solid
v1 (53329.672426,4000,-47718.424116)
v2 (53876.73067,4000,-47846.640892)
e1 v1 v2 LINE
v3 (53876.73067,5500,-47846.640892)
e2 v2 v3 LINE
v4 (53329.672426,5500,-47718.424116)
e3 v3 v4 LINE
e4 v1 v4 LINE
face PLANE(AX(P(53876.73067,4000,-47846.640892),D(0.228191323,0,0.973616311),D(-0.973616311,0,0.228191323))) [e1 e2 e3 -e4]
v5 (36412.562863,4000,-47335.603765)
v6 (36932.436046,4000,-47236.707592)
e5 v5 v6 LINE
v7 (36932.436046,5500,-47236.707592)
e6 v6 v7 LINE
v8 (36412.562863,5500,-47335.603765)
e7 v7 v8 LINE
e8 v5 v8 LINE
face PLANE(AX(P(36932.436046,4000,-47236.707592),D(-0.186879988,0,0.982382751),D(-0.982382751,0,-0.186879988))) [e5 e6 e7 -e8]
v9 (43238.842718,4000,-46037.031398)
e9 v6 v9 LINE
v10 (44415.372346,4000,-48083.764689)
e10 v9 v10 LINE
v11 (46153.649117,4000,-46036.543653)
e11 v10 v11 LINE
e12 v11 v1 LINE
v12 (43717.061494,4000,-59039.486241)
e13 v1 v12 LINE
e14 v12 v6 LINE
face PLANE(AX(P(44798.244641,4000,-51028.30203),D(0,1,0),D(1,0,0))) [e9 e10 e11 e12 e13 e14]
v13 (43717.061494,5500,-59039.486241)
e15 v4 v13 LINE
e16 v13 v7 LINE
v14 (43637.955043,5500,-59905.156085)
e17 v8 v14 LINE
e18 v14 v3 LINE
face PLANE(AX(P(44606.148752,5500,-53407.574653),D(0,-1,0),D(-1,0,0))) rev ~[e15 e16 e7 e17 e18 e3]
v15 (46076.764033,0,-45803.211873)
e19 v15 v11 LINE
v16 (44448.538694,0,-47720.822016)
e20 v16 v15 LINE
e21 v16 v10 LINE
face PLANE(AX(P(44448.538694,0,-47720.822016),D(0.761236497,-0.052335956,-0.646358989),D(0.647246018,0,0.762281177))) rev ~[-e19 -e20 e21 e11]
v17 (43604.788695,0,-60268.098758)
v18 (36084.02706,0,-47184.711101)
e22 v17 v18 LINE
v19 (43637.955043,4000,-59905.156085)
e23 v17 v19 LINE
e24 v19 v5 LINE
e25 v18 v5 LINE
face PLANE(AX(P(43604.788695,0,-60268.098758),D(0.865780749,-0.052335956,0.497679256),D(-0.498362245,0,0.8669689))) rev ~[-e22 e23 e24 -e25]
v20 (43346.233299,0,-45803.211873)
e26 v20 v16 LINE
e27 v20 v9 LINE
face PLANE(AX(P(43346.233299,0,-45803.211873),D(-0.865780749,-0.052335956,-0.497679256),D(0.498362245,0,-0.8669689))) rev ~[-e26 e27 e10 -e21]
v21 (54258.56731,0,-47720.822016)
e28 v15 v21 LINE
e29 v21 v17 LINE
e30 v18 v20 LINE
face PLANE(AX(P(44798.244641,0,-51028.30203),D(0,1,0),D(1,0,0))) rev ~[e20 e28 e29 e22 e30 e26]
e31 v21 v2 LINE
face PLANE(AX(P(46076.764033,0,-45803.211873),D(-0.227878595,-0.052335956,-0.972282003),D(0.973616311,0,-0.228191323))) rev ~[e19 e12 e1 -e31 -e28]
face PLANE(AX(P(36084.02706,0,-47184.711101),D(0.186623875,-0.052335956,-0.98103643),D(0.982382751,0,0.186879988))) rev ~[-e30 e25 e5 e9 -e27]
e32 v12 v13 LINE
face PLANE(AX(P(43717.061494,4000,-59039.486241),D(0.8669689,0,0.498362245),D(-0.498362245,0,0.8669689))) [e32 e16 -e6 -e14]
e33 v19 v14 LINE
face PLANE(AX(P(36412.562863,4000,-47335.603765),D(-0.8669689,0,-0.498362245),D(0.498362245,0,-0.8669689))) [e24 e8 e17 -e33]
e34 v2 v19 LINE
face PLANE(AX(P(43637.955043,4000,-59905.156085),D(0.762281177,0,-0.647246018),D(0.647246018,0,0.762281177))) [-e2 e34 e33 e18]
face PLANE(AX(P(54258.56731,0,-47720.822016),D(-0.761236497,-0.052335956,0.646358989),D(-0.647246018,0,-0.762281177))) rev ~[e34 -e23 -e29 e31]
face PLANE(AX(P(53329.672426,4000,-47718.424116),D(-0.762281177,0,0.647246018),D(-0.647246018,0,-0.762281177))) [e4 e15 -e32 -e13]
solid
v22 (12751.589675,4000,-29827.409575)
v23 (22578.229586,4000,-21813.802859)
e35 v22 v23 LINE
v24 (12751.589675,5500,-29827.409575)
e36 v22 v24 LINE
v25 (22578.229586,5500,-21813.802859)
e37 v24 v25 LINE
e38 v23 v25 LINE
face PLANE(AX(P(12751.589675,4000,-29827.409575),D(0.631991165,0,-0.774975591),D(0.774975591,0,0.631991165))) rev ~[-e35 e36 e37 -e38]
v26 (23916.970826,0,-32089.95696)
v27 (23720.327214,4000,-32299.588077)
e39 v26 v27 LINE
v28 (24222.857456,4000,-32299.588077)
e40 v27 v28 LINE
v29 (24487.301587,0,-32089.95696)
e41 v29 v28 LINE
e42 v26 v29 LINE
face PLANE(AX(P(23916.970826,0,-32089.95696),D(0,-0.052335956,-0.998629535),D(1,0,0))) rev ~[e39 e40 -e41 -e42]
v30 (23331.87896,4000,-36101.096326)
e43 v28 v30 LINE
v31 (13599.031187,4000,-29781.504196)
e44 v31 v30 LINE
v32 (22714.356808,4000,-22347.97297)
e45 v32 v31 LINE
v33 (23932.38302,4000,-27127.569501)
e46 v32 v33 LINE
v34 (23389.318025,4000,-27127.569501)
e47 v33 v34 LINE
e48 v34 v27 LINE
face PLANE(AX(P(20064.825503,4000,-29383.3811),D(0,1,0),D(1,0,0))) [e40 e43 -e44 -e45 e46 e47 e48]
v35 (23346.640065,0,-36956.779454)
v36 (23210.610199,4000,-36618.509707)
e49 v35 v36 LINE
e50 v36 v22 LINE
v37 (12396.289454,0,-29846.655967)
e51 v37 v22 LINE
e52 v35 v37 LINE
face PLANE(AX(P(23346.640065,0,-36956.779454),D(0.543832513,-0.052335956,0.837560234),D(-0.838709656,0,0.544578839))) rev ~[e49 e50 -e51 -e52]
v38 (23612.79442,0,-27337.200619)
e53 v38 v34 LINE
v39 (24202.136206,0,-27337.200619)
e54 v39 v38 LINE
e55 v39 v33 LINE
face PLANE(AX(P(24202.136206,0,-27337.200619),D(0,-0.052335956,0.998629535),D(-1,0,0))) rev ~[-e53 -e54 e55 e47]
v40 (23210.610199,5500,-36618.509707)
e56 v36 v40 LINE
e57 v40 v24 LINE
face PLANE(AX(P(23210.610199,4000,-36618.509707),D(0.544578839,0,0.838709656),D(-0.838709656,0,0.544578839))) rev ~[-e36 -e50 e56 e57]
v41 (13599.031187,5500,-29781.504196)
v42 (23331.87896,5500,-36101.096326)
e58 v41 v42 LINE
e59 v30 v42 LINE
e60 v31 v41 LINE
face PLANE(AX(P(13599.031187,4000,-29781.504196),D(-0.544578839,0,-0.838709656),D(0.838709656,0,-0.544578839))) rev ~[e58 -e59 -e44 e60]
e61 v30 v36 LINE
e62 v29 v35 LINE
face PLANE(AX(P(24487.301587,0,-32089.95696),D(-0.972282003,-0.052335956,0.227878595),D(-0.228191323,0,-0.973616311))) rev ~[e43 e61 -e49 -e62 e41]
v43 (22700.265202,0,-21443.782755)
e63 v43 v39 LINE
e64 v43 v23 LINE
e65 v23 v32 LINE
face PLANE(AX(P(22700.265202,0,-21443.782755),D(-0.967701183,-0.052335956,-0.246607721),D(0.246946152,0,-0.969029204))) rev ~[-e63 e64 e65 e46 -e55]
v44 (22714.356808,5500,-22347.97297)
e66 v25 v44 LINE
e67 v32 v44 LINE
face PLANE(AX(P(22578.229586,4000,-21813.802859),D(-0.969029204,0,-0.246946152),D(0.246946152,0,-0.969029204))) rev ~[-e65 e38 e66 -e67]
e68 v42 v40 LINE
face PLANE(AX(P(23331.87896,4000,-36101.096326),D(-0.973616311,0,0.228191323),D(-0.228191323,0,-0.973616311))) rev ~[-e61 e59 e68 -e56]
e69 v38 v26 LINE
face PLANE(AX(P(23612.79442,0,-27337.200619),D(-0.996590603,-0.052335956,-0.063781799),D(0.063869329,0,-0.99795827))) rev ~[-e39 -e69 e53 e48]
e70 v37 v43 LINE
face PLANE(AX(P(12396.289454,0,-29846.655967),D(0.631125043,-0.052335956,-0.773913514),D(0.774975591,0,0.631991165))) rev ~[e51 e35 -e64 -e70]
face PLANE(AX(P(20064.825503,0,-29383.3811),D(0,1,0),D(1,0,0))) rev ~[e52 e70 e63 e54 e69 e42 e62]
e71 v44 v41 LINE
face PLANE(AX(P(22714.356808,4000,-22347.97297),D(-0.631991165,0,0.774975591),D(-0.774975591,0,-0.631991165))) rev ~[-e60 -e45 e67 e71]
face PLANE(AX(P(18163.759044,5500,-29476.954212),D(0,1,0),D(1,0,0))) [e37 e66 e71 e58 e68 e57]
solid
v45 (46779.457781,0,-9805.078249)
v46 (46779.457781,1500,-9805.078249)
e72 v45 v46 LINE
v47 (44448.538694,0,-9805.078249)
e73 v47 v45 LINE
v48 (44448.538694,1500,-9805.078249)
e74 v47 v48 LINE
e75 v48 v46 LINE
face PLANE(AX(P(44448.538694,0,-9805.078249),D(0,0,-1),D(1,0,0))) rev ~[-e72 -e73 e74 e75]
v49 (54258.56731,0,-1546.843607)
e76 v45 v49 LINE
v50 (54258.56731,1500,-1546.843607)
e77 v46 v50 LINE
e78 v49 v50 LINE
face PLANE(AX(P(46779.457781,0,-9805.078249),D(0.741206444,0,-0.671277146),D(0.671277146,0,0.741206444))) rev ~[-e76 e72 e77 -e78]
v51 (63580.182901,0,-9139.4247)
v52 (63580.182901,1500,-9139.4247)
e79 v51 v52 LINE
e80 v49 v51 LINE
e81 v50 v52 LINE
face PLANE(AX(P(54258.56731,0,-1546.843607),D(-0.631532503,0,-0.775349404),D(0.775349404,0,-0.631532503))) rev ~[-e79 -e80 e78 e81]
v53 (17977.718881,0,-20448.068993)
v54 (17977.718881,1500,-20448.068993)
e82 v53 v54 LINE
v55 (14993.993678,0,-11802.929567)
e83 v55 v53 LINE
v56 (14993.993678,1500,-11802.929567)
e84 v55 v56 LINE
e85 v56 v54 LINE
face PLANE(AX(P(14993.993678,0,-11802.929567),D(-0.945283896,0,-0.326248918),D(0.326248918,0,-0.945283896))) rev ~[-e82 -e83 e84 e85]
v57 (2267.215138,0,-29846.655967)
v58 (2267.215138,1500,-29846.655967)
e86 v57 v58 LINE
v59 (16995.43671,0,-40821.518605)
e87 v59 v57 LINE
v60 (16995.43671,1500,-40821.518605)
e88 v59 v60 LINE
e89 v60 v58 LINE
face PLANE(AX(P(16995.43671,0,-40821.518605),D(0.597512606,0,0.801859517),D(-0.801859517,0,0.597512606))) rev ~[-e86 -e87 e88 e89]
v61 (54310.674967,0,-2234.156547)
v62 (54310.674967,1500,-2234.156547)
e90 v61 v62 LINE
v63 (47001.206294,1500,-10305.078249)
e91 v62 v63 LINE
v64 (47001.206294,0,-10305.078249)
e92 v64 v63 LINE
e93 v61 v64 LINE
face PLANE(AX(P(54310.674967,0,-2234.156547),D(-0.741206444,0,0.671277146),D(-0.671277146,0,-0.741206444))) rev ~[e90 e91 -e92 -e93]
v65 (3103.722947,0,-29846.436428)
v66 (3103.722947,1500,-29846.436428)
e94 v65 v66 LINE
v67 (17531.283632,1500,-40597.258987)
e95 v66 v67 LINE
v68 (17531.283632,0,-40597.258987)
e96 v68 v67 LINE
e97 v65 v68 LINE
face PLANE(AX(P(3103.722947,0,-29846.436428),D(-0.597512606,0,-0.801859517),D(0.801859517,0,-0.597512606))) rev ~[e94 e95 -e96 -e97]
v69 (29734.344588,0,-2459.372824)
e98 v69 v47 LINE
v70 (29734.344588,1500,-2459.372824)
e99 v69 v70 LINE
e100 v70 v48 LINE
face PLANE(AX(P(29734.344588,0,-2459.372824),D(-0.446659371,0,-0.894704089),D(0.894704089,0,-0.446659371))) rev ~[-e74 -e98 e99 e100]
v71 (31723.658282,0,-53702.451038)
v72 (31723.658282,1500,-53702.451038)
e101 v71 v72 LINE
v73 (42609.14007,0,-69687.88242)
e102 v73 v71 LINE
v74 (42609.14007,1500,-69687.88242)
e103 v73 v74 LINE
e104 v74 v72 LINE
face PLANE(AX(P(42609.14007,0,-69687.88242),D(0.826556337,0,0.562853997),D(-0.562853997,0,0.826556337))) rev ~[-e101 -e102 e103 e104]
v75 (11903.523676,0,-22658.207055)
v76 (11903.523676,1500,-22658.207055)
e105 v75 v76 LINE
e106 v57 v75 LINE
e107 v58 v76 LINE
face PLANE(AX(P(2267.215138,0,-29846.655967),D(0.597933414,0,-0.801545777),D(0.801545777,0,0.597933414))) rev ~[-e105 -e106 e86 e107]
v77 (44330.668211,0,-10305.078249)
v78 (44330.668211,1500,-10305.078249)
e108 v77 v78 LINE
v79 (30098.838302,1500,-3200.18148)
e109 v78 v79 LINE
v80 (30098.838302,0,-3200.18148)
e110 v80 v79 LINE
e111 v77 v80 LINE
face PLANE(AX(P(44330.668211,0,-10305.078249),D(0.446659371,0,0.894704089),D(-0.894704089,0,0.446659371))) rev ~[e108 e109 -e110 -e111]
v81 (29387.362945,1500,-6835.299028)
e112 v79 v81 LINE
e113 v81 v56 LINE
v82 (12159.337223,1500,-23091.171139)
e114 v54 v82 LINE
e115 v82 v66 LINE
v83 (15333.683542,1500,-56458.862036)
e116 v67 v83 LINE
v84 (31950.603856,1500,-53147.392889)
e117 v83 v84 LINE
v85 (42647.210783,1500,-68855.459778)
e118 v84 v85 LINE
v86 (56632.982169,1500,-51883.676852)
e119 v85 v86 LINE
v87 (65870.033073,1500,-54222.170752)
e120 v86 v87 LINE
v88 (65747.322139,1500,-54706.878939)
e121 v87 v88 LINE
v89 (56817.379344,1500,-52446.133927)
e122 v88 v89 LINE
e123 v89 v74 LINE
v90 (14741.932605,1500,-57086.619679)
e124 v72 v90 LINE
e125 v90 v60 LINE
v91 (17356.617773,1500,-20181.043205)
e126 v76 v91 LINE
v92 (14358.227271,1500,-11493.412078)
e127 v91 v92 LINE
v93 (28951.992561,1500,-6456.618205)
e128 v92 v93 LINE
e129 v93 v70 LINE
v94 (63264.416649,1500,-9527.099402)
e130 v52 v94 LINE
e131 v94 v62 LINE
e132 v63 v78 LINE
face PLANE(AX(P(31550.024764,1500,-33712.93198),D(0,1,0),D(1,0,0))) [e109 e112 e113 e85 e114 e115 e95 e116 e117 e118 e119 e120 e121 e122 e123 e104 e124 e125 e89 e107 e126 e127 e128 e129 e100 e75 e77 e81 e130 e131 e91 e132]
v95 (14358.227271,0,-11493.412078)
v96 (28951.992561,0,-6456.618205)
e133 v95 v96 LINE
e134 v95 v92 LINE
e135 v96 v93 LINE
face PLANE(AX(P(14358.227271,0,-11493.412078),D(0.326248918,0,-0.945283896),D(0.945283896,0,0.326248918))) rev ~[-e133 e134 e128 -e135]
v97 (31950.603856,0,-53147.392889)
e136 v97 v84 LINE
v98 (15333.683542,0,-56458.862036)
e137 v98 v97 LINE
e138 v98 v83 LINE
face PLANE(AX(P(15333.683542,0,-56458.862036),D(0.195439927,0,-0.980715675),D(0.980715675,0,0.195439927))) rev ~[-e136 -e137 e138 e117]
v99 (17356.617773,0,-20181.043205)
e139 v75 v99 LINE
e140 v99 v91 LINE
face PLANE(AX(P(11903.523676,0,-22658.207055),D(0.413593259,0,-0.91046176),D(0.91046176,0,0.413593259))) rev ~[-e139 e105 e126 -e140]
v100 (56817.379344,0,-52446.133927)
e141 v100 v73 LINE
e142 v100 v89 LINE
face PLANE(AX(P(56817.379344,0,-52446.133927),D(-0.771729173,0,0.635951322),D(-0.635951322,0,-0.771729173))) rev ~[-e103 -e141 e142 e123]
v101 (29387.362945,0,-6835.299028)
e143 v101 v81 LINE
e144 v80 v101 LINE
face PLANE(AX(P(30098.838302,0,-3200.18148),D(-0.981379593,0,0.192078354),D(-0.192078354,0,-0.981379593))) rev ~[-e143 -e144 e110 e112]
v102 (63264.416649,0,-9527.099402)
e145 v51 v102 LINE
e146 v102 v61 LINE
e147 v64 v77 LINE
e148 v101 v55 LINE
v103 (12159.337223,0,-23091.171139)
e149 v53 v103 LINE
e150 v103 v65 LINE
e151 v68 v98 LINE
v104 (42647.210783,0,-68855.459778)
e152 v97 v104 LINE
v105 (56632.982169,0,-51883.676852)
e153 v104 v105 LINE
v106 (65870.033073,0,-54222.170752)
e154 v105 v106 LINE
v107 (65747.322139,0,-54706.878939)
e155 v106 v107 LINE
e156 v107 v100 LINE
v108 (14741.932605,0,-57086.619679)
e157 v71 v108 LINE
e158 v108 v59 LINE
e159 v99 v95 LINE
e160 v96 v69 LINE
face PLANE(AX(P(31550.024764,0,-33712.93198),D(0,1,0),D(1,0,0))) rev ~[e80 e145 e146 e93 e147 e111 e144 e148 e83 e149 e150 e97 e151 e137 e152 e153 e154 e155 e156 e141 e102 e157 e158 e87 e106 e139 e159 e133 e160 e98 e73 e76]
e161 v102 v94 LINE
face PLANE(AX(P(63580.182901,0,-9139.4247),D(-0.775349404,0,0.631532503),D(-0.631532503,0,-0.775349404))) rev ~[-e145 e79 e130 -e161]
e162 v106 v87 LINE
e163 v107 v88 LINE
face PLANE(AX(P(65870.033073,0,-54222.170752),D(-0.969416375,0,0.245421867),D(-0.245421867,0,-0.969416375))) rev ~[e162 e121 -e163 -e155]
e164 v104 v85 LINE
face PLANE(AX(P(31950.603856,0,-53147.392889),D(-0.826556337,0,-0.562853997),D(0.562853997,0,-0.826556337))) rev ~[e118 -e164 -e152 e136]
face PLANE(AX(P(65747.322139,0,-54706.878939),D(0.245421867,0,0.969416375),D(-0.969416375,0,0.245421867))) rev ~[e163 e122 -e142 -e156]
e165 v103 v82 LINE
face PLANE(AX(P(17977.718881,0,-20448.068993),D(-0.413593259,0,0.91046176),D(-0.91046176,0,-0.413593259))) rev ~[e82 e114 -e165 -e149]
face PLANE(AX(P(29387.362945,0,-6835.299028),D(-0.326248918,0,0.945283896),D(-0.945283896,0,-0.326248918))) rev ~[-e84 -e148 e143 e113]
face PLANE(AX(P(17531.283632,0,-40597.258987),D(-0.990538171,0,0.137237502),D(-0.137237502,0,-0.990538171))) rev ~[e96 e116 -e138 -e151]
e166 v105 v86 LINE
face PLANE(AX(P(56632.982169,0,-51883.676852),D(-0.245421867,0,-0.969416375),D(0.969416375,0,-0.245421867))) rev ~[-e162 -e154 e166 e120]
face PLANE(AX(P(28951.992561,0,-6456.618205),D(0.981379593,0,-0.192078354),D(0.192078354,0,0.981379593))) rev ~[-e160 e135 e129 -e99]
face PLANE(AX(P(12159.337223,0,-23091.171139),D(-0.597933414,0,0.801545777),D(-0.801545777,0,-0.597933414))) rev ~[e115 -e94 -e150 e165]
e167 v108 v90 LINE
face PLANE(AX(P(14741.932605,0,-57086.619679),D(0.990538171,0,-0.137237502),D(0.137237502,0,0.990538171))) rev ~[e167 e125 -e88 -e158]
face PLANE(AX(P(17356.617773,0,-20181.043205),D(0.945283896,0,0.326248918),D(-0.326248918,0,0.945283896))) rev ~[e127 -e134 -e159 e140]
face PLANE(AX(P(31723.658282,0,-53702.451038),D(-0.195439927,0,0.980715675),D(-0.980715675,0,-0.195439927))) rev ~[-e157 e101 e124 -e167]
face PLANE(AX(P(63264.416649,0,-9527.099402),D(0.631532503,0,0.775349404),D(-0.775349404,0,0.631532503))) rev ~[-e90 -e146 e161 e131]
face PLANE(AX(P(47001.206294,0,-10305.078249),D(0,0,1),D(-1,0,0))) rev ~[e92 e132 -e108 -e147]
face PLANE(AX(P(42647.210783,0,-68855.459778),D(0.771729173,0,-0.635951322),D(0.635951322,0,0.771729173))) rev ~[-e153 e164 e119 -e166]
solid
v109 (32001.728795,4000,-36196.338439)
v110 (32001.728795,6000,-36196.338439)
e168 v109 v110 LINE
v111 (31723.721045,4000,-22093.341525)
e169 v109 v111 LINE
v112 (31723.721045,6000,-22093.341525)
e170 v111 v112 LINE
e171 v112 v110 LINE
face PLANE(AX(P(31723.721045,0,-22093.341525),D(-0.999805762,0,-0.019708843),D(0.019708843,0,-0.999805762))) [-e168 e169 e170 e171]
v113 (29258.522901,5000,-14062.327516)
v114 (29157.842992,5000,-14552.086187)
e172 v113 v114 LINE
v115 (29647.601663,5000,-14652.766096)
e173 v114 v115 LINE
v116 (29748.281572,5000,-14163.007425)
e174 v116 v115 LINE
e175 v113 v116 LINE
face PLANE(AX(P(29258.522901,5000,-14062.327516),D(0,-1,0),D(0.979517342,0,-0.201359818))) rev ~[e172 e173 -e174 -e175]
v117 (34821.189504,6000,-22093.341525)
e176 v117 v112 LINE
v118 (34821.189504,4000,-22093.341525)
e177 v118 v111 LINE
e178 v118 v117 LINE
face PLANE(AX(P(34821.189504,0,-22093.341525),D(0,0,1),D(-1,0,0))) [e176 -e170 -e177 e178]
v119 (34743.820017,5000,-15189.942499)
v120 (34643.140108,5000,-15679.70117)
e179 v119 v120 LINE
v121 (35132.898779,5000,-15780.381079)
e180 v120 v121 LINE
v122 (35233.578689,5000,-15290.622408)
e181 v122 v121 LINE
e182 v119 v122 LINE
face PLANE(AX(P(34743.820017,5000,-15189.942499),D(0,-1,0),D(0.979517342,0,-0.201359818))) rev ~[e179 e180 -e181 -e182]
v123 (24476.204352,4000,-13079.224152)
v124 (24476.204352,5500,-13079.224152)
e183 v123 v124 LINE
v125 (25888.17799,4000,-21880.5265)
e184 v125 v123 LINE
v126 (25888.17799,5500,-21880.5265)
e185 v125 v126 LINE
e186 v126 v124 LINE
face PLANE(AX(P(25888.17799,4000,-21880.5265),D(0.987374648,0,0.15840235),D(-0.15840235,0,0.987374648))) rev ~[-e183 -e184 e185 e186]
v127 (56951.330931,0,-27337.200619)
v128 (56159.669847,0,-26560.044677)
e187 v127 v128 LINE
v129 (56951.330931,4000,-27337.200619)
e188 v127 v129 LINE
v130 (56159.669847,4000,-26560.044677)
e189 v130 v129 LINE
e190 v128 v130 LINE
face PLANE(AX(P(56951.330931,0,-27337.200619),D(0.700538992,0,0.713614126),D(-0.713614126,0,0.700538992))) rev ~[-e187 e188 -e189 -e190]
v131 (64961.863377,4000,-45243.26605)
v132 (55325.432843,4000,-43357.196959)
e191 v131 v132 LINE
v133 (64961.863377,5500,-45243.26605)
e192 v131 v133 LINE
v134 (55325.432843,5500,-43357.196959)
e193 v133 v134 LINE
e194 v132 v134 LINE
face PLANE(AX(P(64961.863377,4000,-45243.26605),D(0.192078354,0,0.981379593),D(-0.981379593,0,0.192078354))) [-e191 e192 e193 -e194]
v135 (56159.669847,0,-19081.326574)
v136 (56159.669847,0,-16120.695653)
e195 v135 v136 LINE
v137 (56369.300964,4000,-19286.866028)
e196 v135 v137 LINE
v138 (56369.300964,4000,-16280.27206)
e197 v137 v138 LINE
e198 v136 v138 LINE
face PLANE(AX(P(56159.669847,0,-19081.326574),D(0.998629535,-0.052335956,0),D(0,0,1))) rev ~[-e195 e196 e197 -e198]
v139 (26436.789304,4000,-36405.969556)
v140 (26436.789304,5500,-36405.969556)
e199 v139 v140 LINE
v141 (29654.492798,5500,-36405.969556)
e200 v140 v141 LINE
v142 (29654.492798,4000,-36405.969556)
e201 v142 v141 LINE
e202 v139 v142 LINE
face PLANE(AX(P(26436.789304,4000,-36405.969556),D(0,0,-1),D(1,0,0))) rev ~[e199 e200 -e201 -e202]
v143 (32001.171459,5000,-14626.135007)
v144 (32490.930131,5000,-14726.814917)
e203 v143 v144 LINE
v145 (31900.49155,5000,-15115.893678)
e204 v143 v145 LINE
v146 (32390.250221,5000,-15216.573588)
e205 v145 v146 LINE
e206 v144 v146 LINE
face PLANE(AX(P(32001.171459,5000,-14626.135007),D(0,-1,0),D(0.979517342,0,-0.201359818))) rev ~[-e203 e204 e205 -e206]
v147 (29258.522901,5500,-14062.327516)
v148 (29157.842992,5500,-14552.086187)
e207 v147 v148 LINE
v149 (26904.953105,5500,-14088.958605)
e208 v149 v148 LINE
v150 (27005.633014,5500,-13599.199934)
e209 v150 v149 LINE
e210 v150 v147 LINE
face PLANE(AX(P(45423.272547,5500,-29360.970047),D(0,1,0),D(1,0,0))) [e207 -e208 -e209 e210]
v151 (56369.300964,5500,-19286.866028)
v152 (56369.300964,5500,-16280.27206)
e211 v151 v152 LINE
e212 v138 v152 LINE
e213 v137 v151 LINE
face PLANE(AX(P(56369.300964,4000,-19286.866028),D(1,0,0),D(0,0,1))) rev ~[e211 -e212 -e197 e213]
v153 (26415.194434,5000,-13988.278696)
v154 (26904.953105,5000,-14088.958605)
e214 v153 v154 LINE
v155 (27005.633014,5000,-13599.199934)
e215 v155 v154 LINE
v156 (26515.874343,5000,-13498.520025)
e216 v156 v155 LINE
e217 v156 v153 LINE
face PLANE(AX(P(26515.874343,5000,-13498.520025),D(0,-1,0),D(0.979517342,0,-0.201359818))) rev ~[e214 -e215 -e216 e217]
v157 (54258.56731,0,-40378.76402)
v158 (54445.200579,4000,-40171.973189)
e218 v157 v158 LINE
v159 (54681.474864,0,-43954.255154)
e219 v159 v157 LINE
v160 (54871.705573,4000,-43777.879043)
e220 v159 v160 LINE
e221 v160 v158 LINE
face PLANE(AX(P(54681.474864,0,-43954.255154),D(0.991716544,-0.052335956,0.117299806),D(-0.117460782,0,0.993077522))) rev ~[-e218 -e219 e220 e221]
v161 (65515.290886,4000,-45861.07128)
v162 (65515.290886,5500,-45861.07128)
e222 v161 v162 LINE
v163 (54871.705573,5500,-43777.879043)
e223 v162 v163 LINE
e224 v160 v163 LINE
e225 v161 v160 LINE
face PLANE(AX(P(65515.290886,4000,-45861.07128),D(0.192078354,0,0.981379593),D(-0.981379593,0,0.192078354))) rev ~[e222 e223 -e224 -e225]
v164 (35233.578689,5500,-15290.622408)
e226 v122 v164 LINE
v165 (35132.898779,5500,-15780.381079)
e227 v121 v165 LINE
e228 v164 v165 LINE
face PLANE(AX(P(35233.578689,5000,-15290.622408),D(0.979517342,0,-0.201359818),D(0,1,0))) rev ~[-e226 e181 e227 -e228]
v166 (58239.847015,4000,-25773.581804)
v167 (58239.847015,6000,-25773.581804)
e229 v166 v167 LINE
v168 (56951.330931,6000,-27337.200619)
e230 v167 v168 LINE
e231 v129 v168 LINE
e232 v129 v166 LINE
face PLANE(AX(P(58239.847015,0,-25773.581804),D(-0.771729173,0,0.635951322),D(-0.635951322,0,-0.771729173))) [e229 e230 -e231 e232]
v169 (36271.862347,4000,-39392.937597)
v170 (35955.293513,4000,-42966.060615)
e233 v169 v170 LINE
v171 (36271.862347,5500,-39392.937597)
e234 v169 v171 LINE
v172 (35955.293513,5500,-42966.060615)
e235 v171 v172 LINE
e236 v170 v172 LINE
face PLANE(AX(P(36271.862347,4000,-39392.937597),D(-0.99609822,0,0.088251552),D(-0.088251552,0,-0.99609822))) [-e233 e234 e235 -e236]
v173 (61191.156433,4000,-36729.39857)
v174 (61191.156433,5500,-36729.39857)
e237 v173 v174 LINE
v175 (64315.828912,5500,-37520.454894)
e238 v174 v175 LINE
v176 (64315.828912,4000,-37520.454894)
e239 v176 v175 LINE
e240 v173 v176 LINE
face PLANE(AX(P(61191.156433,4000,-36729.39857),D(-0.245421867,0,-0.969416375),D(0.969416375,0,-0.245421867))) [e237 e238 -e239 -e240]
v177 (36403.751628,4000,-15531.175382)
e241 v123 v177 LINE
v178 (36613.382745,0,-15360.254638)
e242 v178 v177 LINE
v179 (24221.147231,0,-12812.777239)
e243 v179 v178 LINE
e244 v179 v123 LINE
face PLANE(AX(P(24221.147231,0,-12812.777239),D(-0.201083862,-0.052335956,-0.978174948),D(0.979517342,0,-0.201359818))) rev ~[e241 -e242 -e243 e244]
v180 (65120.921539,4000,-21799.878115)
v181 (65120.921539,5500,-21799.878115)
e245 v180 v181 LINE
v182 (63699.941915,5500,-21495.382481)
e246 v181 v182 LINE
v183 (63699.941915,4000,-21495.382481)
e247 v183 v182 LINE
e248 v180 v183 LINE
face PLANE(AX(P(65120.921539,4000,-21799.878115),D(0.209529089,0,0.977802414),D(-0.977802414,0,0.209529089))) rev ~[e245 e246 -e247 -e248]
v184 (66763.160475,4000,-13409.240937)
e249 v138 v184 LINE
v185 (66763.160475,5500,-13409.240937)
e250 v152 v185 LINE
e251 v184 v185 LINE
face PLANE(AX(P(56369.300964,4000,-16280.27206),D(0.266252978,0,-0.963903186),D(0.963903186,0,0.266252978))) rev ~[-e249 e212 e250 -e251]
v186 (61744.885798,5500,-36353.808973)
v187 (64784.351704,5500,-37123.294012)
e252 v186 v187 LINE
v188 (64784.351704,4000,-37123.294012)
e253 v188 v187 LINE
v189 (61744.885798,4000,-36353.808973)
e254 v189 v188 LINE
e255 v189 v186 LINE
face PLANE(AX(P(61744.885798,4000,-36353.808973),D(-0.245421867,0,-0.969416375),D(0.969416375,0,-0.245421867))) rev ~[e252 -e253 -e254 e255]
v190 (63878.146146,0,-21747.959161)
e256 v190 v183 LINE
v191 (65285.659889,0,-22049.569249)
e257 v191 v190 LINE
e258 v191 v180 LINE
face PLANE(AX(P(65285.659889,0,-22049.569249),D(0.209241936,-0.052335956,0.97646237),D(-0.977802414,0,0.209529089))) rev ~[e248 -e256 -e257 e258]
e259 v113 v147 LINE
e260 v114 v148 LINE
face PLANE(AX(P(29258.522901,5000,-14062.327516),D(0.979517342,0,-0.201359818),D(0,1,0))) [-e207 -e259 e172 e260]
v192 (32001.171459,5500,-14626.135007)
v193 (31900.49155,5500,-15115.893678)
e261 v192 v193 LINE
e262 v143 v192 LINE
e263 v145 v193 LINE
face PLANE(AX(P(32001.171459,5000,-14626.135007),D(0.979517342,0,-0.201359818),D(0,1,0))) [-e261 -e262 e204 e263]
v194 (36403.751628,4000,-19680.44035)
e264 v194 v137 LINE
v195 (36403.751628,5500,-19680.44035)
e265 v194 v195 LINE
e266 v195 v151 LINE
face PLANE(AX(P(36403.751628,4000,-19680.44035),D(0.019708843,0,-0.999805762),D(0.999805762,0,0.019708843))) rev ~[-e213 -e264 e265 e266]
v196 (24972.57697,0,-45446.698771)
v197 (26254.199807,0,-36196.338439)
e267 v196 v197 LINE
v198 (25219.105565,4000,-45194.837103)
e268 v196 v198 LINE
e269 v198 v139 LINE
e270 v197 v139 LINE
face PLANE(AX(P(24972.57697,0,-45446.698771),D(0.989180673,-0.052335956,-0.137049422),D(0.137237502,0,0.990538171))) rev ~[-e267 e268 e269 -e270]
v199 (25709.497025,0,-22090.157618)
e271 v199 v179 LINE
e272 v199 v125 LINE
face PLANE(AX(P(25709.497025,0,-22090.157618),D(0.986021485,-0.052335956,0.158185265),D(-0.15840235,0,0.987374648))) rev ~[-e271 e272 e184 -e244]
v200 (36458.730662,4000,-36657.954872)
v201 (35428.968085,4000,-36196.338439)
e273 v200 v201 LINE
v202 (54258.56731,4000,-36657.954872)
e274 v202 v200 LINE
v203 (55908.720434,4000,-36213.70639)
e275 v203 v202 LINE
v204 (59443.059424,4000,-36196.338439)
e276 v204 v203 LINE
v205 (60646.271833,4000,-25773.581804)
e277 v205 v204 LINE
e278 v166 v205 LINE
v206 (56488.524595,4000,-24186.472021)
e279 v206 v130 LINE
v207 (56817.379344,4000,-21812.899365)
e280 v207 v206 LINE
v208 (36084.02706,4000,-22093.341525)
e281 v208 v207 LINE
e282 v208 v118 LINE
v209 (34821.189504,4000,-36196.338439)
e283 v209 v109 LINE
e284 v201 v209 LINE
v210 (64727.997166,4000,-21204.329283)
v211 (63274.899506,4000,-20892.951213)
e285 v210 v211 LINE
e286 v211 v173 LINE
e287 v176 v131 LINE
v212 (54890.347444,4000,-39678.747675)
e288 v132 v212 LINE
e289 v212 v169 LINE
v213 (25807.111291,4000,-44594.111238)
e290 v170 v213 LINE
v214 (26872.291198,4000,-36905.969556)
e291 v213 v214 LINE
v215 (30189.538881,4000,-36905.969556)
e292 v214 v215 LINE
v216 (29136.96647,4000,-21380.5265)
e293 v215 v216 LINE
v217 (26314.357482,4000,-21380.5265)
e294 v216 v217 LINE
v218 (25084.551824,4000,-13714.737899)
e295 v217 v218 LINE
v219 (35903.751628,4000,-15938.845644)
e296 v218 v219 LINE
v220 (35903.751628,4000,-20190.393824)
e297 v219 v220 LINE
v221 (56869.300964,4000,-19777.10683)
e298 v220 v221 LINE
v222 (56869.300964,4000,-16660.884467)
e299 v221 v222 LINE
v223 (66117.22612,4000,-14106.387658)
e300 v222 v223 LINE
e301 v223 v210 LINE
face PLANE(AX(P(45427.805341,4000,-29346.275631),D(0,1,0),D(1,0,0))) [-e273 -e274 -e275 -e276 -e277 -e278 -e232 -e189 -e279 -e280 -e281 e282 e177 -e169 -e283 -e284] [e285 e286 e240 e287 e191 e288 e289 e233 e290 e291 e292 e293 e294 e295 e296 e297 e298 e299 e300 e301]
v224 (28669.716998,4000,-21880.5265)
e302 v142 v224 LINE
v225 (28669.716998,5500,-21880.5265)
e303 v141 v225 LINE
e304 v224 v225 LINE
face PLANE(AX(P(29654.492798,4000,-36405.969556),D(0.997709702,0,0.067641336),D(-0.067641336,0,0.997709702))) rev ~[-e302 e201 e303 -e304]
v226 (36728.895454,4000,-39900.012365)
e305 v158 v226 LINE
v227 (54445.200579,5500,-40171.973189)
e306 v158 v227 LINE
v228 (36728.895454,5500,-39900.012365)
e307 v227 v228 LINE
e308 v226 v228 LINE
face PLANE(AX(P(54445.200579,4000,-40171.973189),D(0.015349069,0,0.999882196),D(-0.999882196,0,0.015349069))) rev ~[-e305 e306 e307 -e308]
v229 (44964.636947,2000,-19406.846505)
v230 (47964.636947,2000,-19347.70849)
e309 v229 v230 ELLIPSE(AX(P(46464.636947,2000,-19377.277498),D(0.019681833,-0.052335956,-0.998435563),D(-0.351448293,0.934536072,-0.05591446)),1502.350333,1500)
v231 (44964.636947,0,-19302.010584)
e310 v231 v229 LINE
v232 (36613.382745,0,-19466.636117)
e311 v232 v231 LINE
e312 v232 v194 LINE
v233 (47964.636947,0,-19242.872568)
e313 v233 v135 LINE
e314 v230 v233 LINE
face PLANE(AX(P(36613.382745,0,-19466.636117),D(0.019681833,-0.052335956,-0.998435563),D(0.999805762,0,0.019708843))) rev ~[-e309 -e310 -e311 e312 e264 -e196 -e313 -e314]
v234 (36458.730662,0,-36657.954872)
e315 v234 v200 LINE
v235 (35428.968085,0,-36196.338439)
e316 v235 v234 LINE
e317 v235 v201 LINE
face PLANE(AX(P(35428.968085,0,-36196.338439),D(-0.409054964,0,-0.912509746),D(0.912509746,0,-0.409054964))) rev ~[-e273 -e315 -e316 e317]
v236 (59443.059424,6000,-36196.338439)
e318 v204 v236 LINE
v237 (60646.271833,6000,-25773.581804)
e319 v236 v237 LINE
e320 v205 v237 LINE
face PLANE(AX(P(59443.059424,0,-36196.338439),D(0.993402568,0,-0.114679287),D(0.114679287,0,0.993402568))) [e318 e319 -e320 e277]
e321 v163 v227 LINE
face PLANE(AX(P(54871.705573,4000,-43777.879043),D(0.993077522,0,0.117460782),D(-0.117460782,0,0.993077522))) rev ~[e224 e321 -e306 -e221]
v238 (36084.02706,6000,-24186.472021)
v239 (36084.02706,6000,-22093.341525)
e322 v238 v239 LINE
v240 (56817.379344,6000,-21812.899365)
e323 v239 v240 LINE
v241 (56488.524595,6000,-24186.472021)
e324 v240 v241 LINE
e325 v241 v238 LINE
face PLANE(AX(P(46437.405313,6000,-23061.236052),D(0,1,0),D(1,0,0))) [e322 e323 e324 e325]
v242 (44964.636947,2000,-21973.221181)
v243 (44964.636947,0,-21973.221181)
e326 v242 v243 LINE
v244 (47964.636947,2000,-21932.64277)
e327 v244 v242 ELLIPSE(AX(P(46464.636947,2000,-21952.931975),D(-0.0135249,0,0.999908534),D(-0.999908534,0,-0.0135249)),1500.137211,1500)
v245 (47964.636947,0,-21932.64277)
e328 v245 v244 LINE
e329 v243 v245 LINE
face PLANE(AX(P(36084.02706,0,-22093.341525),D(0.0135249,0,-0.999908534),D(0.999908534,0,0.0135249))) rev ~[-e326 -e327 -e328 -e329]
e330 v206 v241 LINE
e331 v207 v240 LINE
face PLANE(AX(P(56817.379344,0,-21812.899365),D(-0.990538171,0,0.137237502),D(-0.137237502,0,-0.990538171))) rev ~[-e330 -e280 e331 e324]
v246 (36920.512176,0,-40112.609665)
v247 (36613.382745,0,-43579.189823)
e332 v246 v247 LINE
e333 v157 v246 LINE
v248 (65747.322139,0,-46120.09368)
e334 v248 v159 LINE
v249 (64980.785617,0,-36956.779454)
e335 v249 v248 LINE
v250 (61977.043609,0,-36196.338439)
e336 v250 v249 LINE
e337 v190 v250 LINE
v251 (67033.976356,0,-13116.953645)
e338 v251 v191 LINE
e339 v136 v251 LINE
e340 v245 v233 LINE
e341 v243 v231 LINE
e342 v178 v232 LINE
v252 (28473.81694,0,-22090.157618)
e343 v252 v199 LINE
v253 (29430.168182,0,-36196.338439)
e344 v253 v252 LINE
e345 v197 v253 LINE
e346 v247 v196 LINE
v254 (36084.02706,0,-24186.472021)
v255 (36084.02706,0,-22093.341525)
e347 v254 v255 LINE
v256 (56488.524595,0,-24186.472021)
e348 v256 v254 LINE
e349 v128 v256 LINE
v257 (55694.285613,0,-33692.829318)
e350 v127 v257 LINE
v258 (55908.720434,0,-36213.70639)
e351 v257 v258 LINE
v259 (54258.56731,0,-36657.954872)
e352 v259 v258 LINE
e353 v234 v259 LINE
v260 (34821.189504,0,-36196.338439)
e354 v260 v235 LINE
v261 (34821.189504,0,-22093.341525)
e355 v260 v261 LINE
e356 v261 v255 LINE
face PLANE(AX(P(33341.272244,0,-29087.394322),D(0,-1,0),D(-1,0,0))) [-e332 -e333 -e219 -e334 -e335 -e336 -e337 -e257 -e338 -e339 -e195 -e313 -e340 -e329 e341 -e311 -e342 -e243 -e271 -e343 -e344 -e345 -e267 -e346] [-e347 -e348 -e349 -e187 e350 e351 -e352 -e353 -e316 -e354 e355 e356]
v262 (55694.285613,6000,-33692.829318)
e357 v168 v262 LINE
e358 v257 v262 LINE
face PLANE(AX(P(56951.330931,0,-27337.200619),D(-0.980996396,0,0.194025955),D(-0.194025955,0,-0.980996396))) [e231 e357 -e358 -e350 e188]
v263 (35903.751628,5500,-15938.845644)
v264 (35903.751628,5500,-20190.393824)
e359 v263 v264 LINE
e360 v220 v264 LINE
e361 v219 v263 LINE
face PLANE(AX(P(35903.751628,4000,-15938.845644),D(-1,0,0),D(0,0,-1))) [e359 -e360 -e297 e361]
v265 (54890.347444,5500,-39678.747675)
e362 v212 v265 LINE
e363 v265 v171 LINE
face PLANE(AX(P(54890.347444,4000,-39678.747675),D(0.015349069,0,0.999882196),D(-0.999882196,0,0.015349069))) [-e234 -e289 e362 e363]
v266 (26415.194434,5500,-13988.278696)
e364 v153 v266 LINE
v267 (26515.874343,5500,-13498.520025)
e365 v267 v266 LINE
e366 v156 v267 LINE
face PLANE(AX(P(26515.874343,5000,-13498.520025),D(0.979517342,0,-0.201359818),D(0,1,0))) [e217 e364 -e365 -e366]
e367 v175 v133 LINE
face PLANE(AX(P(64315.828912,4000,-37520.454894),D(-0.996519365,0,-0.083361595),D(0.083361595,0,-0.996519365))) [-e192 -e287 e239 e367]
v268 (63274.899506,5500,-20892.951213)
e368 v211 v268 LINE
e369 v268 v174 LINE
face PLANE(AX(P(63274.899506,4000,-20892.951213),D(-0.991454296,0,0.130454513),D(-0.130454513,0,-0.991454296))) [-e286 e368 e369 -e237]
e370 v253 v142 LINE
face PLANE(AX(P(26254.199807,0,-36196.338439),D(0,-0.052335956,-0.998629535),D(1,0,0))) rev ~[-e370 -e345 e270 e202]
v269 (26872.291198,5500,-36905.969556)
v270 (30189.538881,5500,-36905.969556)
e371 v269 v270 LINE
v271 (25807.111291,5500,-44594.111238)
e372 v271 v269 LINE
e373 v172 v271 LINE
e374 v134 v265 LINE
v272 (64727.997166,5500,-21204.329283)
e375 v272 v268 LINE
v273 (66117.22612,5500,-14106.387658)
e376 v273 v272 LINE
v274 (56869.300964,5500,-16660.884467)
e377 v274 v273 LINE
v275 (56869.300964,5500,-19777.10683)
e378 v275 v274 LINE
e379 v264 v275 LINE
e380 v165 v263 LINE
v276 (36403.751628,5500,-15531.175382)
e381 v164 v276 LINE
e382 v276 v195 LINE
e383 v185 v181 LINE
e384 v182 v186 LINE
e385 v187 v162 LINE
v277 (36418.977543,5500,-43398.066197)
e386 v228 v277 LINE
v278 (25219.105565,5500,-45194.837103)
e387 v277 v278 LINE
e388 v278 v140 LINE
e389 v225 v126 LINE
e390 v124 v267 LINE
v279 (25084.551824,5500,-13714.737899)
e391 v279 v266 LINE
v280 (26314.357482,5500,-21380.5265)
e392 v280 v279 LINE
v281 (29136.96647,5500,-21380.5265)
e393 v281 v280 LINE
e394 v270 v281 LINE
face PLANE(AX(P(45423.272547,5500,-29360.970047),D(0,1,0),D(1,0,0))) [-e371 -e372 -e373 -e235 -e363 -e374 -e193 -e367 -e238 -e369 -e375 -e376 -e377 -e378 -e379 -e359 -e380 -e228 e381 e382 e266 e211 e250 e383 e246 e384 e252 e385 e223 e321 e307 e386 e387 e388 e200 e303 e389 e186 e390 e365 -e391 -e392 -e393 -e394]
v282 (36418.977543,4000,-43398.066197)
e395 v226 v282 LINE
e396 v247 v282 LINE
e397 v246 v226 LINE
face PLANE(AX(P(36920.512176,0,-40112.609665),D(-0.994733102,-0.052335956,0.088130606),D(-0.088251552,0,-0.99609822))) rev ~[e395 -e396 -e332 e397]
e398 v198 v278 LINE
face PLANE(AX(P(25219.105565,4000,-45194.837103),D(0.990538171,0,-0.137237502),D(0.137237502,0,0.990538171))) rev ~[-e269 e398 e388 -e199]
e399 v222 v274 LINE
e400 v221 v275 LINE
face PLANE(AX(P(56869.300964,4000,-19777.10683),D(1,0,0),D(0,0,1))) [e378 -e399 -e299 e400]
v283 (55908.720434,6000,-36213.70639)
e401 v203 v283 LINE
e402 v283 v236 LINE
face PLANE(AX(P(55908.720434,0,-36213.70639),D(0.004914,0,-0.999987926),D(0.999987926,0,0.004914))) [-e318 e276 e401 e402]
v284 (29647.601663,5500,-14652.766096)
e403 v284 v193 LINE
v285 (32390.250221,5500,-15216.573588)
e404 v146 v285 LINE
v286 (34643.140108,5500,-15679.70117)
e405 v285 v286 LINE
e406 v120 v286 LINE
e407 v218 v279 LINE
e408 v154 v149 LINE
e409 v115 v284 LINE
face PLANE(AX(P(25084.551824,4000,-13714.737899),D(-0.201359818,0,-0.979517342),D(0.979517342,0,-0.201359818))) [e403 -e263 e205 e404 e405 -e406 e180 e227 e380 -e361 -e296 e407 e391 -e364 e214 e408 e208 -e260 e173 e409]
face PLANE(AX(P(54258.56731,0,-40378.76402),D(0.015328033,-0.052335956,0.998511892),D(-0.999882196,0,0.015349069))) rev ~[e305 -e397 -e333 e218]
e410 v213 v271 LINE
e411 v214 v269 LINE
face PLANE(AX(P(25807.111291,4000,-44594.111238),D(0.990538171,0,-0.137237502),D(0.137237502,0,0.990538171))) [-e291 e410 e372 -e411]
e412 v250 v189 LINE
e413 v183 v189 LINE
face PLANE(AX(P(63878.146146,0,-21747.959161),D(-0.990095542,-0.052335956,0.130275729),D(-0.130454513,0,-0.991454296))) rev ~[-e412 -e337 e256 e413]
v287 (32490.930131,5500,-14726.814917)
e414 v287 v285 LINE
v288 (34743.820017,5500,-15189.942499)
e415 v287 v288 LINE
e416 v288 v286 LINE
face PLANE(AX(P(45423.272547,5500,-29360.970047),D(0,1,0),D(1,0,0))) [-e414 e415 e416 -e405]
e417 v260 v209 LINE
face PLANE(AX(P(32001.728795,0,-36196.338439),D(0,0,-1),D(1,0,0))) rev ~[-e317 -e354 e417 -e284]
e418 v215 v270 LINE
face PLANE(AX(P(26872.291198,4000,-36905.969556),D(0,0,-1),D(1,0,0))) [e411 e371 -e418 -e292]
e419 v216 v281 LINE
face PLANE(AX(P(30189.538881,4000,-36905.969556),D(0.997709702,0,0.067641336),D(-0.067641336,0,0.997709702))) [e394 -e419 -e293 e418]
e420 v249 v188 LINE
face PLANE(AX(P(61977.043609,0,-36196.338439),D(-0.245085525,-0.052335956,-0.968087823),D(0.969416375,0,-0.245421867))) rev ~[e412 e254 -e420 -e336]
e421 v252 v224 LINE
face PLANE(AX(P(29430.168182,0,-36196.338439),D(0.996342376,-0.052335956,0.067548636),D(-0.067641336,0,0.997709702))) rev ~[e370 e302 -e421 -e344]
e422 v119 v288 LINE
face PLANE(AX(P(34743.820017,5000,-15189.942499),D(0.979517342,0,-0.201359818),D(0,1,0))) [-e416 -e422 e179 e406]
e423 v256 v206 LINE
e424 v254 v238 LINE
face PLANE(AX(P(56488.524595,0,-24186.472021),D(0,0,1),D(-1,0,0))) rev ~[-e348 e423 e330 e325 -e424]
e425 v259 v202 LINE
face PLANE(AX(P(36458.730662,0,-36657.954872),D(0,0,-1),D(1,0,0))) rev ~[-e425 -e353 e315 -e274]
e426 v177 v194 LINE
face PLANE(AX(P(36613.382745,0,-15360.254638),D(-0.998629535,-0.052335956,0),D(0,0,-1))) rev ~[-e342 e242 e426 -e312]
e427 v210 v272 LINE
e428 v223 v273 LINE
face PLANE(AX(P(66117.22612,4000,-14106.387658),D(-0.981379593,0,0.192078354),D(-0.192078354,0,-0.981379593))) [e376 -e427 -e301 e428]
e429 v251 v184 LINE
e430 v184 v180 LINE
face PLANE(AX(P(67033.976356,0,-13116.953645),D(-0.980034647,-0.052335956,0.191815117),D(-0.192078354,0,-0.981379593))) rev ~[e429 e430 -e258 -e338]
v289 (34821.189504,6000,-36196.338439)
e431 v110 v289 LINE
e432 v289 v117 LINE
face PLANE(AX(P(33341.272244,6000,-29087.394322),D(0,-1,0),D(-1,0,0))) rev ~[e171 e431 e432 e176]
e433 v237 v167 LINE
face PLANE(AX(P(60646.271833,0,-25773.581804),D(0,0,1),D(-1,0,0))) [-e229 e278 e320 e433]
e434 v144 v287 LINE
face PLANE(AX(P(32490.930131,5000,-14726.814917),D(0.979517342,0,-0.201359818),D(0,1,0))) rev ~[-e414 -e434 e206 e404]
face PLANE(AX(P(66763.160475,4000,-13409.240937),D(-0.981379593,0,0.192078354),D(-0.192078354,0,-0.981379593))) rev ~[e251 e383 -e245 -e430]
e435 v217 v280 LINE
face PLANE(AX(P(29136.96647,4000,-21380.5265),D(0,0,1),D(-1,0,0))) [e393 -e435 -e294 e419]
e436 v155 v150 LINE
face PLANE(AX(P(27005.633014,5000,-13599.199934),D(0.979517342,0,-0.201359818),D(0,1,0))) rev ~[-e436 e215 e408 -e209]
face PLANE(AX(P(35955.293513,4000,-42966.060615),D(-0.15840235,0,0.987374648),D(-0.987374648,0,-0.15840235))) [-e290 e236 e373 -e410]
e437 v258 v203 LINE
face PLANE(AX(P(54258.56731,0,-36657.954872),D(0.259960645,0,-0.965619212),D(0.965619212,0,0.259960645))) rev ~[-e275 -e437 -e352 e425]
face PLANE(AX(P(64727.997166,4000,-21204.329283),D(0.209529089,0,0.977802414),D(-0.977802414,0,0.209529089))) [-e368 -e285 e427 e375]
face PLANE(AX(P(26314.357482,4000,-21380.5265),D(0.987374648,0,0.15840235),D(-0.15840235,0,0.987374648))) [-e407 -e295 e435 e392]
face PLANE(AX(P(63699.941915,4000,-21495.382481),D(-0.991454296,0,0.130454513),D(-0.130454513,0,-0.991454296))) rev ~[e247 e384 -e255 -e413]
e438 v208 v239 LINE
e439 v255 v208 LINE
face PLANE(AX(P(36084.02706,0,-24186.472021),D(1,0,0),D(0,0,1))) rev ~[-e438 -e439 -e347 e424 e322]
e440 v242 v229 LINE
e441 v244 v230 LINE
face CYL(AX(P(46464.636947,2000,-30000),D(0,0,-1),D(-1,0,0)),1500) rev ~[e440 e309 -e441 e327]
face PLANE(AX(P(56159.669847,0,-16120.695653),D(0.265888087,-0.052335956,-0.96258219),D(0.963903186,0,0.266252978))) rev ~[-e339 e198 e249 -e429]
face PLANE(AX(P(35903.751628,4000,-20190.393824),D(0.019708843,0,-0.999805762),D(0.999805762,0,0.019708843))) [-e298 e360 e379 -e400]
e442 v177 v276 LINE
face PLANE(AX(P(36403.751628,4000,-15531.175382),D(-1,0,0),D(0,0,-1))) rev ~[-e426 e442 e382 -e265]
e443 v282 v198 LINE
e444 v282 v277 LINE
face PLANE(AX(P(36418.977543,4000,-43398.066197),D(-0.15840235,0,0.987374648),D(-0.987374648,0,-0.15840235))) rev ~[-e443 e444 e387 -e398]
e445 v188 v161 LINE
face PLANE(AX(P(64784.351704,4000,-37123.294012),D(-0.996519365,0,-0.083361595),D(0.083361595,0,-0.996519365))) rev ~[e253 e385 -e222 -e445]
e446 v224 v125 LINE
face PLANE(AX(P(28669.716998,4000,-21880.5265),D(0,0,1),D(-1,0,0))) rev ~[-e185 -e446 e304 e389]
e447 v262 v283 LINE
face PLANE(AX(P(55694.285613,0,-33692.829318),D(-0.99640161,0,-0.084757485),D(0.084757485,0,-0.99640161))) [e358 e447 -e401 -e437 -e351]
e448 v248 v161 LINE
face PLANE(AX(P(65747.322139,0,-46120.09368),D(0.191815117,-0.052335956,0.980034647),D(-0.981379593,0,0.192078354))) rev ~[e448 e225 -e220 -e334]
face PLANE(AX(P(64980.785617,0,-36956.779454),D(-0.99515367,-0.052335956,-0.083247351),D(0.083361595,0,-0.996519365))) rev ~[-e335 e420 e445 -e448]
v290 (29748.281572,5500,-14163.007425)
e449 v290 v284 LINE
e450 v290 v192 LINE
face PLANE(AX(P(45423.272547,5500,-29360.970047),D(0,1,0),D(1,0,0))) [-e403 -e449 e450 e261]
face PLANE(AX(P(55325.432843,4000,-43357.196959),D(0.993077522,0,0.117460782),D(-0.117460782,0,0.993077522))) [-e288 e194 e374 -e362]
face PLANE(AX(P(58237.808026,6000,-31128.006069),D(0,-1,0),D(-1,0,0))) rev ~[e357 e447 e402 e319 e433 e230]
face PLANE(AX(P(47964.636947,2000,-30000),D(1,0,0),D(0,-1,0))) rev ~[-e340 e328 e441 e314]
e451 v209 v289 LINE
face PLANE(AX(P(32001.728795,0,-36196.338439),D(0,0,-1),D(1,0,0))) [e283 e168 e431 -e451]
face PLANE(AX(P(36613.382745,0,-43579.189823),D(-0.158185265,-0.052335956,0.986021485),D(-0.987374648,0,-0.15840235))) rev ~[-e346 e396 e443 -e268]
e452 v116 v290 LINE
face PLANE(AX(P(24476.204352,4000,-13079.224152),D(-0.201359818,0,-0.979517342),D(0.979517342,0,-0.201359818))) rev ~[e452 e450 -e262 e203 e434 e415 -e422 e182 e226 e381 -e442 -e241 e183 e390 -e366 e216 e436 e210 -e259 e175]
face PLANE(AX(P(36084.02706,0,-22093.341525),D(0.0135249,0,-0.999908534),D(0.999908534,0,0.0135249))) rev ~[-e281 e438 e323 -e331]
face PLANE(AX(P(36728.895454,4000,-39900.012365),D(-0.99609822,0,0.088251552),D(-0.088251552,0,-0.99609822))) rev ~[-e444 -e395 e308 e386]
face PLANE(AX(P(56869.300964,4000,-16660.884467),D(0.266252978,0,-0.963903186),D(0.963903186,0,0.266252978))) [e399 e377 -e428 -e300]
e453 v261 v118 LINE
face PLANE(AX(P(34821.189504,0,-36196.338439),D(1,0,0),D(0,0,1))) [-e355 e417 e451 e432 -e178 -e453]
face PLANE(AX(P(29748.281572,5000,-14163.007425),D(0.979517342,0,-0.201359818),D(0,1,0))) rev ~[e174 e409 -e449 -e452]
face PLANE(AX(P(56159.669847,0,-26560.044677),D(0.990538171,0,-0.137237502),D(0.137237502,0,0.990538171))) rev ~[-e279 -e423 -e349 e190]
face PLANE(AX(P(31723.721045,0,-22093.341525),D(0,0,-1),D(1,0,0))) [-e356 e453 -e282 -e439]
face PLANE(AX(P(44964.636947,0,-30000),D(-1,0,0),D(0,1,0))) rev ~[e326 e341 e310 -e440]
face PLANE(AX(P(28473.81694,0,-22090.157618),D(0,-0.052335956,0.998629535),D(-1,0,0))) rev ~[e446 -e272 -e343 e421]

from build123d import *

# Parameters (mm, degrees)
BOSS_EXTRUDE2_DEPTH           = 4000
BOSS_EXTRUDE2_DRAFT           = 3
BOSS_EXTRUDE2_PROFILE_2_DEPTH = 4000
BOSS_EXTRUDE2_PROFILE_2_DRAFT = 3
BOSS_EXTRUDE2_PROFILE_3_DEPTH = 4000
BOSS_EXTRUDE2_PROFILE_3_DRAFT = 3
CUT_EXTRUDE8_DEPTH            = 90232.910730358
CUT_EXTRUDE8_DEPTH_BACK       = 9000
BOSS_EXTRUDE8_DEPTH           = 1500
BOSS_EXTRUDE3_START           = 4000
BOSS_EXTRUDE3_DEPTH           = 1500
BOSS_EXTRUDE4_START           = 4000
BOSS_EXTRUDE4_DEPTH           = 1500
BOSS_EXTRUDE5_START           = 4000
BOSS_EXTRUDE5_DEPTH           = 1500
CUT_EXTRUDE9_DEPTH            = 11000
SKETCH12_W                    = 500
SKETCH12_H                    = 500
CUT_EXTRUDE10_DEPTH           = 500
LPATTERN1_COUNT               = 4
LPATTERN1_PITCH               = 2800
BOSS_EXTRUDE7_DEPTH           = 6000


with BuildPart() as part:
    # Sketch5 → Boss-Extrude2 (with draft: the straight prism first)
    with BuildSketch(Plane(origin=(0, 0, 0), x_dir=(1, 0, 0), z_dir=(0, 1, 0))):
        Polygon((24221.147231465, 12812.777238771), (36613.382745291, 15360.254637852), (36613.382745291, 19466.636116967), (56159.669846807, 19081.326574374), (56159.669846807, 16120.695652503), (67033.976356316, 13116.953644631), (65285.659888842, 22049.569248776), (63878.146145515, 21747.95916092), (61977.043608887, 36196.338439289), (64980.785616759, 36956.77945394), (65747.322139372, 46120.093680485), (54681.474863666, 43954.255153895), (54258.567310179, 40378.76401987), (36920.512176137, 40112.609664742), (36613.382745291, 43579.189822963), (24972.576970271, 45446.698770827), (26254.199807291, 36196.338439289), (29430.168181824, 36196.338439289), (28473.81693967, 22090.157617513), (25709.497024846, 22090.157617513), align=None)
    extrude(amount=BOSS_EXTRUDE2_DEPTH)
    # Boss-Extrude2: the draft: its side faces are tilted about the plane it starts from
    boss_extrude2_sides = [part.faces().sort_by_distance(p)[0] for p in [
        (30417.264988378, 2000, -14086.515938311),
        (36613.382745291, 2000, -17413.445377409),
        (46386.526296049, 2000, -19273.981345671),
        (56159.669846807, 2000, -17601.011113438),
        (61596.823101562, 2000, -14618.824648567),
        (66159.818122579, 2000, -17583.261446704),
        (64581.903017178, 2000, -21898.764204848),
        (62927.594877201, 2000, -28972.148800105),
        (63478.914612823, 2000, -36576.558946615),
        (65364.053878065, 2000, -41538.436567213),
        (60214.398501519, 2000, -45037.17441719),
        (54470.021086923, 2000, -42166.509586883),
        (45589.539743158, 2000, -40245.686842306),
        (36766.947460714, 2000, -41845.899743852),
        (30792.979857781, 2000, -44512.944296895),
        (25613.388388781, 2000, -40821.518605058),
        (27842.183994557, 2000, -36196.338439289),
        (28951.992560747, 2000, -29143.248028401),
        (27091.656982258, 2000, -22090.157617513),
        (24965.322128155, 2000, -17451.467428142),
    ]]
    draft(boss_extrude2_sides, Plane(origin=(0, 0, 0), x_dir=(1, 0, 0), z_dir=(0, 1, 0)), BOSS_EXTRUDE2_DRAFT)

    # Sketch5<4> → Cut-Extrude8 (cut, two sides)
    with BuildSketch(Plane(origin=(0, 0, 0), x_dir=(1, 0, 0), z_dir=(0, 1, 0))) as cut_extrude8_sk:
        Polygon((35428.968084809, 22093.341525096), (31723.721045337, 22093.341525096), (32001.728794941, 36196.338439289), (35428.968084809, 36196.338439289), align=None)
        Polygon((36084.02706002, 22093.341525096), (35428.968084809, 22093.341525096), (35428.968084809, 36196.338439289), (36458.730662276, 36657.954872095), (54258.567310179, 36657.954872095), (55973.233378537, 36196.338439289), (55973.233378537, 34396.808595444), (56951.330931415, 27337.200618605), (56159.669846807, 26560.044676759), (36084.02706002, 26560.044676759), align=None)
        Polygon((59443.059424266, 36196.338439289), (60646.271833248, 25773.58180428), (58239.847015285, 25773.58180428), (56951.330931415, 27337.200618605), (55973.233378537, 34396.808595444), (55973.233378537, 36196.338439289), align=None)
        Polygon((56817.379343917, 21812.899365358), (36084.02706002, 22093.341525096), (36084.02706002, 26560.044676759), (56159.669846807, 26560.044676759), align=None)
    extrude(amount=CUT_EXTRUDE8_DEPTH, mode=Mode.SUBTRACT)
    extrude(cut_extrude8_sk.sketch, amount=-CUT_EXTRUDE8_DEPTH_BACK, mode=Mode.SUBTRACT)

    # Sketch7<4> → Boss-Extrude4 (add)
    with BuildSketch(Plane(origin=(0, 0, 0), x_dir=(1, 0, 0), z_dir=(0, 1, 0)).offset(BOSS_EXTRUDE4_START)):
        Polygon((28669.716997515, 21880.526500381), (25888.177990487, 21880.526500381), (24476.204351751, 13079.224152258), (36403.751628159, 15531.175382463), (36403.751628159, 19680.440349773), (56369.300963939, 19286.866028357), (56369.300963939, 16280.272060367), (66763.160475319, 13409.240936594), (65120.921538659, 21799.878114852), (63699.941915328, 21495.382481281), (61744.885798014, 36353.808972866), (64784.351704009, 37123.294012359), (65515.290885637, 45861.071279535), (54871.705572801, 43777.879043348), (54445.20057926, 40171.97318886), (36728.895454385, 39900.012364574), (36418.977542885, 43398.066197205), (25219.105564891, 45194.837102765), (26436.789304251, 36405.969556421), (29654.492797924, 36405.969556421), align=None)
        Polygon((35955.293512896, 42966.060614647), (25807.111291314, 44594.11123843), (26872.291197907, 36905.969556421), (30189.538880703, 36905.969556421), (29136.966470124, 21380.526500381), (26314.3574816, 21380.526500381), (25084.551823671, 13714.737899291), (35903.751628159, 15938.845643799), (35903.751628159, 20190.393823596), (56869.300963939, 19777.106830377), (56869.300963939, 16660.884466691), (66117.226120005, 14106.387657847), (64727.997166463, 21204.329282836), (63274.899506011, 20892.951212739), (61191.156432714, 36729.3985698), (64315.828911598, 37520.454893568), (64961.863377094, 45243.266049822), (55325.432843202, 43357.196959123), (54890.347443984, 39678.747674825), (36271.86234696, 39392.937596582), align=None, mode=Mode.SUBTRACT)
    extrude(amount=BOSS_EXTRUDE4_DEPTH)

    # Sketch9 → Cut-Extrude9 (cut)
    with BuildSketch(Plane.XY.offset(-30000)):
        with BuildLine():
            Line((44964.636947484, 0), (44964.636947484, 2000))
            ThreePointArc((44964.636947484, 2000), (46464.636947484, 3500), (47964.636947484, 2000))
            Line((47964.636947484, 2000), (47964.636947484, 0))
            Line((47964.636947484, 0), (44964.636947484, 0))
        make_face()
    extrude(amount=CUT_EXTRUDE9_DEPTH, mode=Mode.SUBTRACT)

    # Sketch12 → Cut-Extrude10 (cut)
    with BuildSketch(Plane(origin=(-1587.279743094, 0, -7721.342065621), x_dir=(0.9795173421549181, 0, -0.2013598182800262), z_dir=(0.20135981828002616, 0, 0.979517342154918))):
        with Locations((37340.818301027, 5250)):
            Rectangle(SKETCH12_W, SKETCH12_H)
    cut_extrude10 = extrude(amount=-CUT_EXTRUDE10_DEPTH, mode=Mode.SUBTRACT)

    # LPattern1: Cut-Extrude10 ×4
    with Locations(*[Vector(-0.9795173421549181, 0, 0.2013598182800262) * (i * LPATTERN1_PITCH) for i in range(1, LPATTERN1_COUNT)]):
        add(cut_extrude10, mode=Mode.SUBTRACT)

    # Sketch8 → Boss-Extrude7 (add)
    with BuildSketch(Plane(origin=(0, 0, 0), x_dir=(1, 0, 0), z_dir=(0, 1, 0))):
        Polygon((32001.728794941, 36196.338439289), (34821.189503531, 36196.338439289), (34821.189503531, 22093.341525096), (31723.721045337, 22093.341525096), align=None)
        Polygon((36084.02706002, 22093.341525096), (56817.379343917, 21812.899365358), (56488.524595362, 24186.472021059), (36084.02706002, 24186.472021059), align=None)
        Polygon((59443.059424266, 36196.338439289), (60646.271833248, 25773.58180428), (58239.847015285, 25773.58180428), (56951.330931415, 27337.200618605), (55694.285613264, 33692.829318225), (55908.720433738, 36213.706389818), align=None)
    extrude(amount=BOSS_EXTRUDE7_DEPTH)


with BuildPart() as body_2:
    # Sketch5 → Boss-Extrude2 profile 2 (with draft: the straight prism first)
    with BuildSketch(Plane(origin=(0, 0, 0), x_dir=(1, 0, 0), z_dir=(0, 1, 0))):
        Polygon((22700.265202163, 21443.78275506), (24202.136206099, 27337.200618605), (23612.794419744, 27337.200618605), (23916.970825604, 32089.956960174), (24487.301586593, 32089.956960174), (23346.640064616, 36956.77945394), (12396.289453642, 29846.655966953), align=None)
    extrude(amount=BOSS_EXTRUDE2_PROFILE_2_DEPTH)
    # Boss-Extrude2 profile 2: the draft: its side faces are tilted about the plane it starts from
    boss_extrude2_profile_2_sides = [body_2.faces().sort_by_distance(p)[0] for p in [
        (23451.200704131, 2000, -24390.491686832),
        (23907.465312921, 2000, -27337.200618605),
        (23764.882622674, 2000, -29713.578789389),
        (24202.136206099, 2000, -32089.956960174),
        (23916.970825604, 2000, -34523.368207057),
        (17871.464759129, 2000, -33401.717710447),
        (17548.277327902, 2000, -25645.219361007),
    ]]
    draft(boss_extrude2_profile_2_sides, Plane(origin=(0, 0, 0), x_dir=(1, 0, 0), z_dir=(0, 1, 0)), BOSS_EXTRUDE2_PROFILE_2_DRAFT)

    # Sketch7<6> → Boss-Extrude5 (add)
    with BuildSketch(Plane(origin=(0, 0, 0), x_dir=(1, 0, 0), z_dir=(0, 1, 0)).offset(BOSS_EXTRUDE5_START)):
        Polygon((23210.610198856, 36618.509706606), (12751.589675404, 29827.409575058), (22578.229585565, 21813.802858654), (22714.35680761, 22347.972970475), (13599.031187481, 29781.504195747), (23331.878959981, 36101.096325807), align=None)
    extrude(amount=BOSS_EXTRUDE5_DEPTH)


with BuildPart() as body_3:
    # Sketch5 → Boss-Extrude2 profile 3 (with draft: the straight prism first)
    with BuildSketch(Plane(origin=(0, 0, 0), x_dir=(1, 0, 0), z_dir=(0, 1, 0))):
        Polygon((36084.02706002, 47184.711100996), (43346.233299116, 45803.211873316), (44448.538693732, 47720.822016325), (46076.764033341, 45803.211873316), (54258.567310179, 47720.822016325), (43604.788694919, 60268.098758067), align=None)
    extrude(amount=BOSS_EXTRUDE2_PROFILE_3_DEPTH)
    # Boss-Extrude2 profile 3: the draft: its side faces are tilted about the plane it starts from
    boss_extrude2_profile_3_sides = [body_3.faces().sort_by_distance(p)[0] for p in [
        (39715.130179568, 2000, -46493.961487156),
        (43897.385996424, 2000, -46762.016944821),
        (45262.651363537, 2000, -46762.016944821),
        (50167.66567176, 2000, -46762.016944821),
        (48931.678002549, 2000, -53994.460387196),
        (39844.40787747, 2000, -53726.404929532),
    ]]
    draft(boss_extrude2_profile_3_sides, Plane(origin=(0, 0, 0), x_dir=(1, 0, 0), z_dir=(0, 1, 0)), BOSS_EXTRUDE2_PROFILE_3_DRAFT)

    # Sketch7 → Boss-Extrude3 (add)
    with BuildSketch(Plane(origin=(0, 0, 0), x_dir=(1, 0, 0), z_dir=(0, 1, 0)).offset(BOSS_EXTRUDE3_START)):
        Polygon((36932.436046199, 47236.70759238), (36412.562863177, 47335.603764864), (43637.955042603, 59905.156085089), (53876.73067046, 47846.640891682), (53329.672426153, 47718.424115673), (43717.061494303, 59039.486240978), align=None)
    extrude(amount=BOSS_EXTRUDE3_DEPTH)


with BuildPart() as body_4:
    # Sketch5<6> → Boss-Extrude8 (new body)
    with BuildSketch(Plane(origin=(0, 0, 0), x_dir=(1, 0, 0), z_dir=(0, 1, 0))):
        Polygon((54258.567310179, 1546.843606716), (63580.182900737, 9139.424700384), (63264.41664934, 9527.099402265), (54310.67496669, 2234.156547366), (47001.206294489, 10305.078249172), (44330.668211136, 10305.078249172), (30098.838301686, 3200.181479544), (29387.362945299, 6835.299027577), (14993.993678286, 11802.92956724), (16054.681746074, 14876.200599556), (17977.718880796, 20448.068992994), (12159.337222509, 23091.171139248), (3103.722947215, 29846.436428417), (17531.283631937, 40597.258986746), (15333.683541619, 56458.862036314), (31950.603856265, 53147.392889184), (42647.210782744, 68855.459777976), (56632.98216886, 51883.676851905), (65870.033072857, 54222.170751651), (65747.322139372, 54706.878938918), (56817.379343917, 52446.13392741), (42609.140070311, 69687.882419931), (31723.658282012, 53702.45103757), (14741.932604944, 57086.619678919), (16995.436710251, 40821.518605058), (2267.21513849, 29846.655966953), (11903.523676148, 22658.207055457), (17356.617773435, 20181.043204968), (15582.039798208, 15039.325058534), (14358.227271441, 11493.412078351), (28951.992560747, 6456.61820508), (29734.344587685, 2459.372824298), (44448.538693732, 9805.078249172), (46779.457781313, 9805.078249172), align=None)
    extrude(amount=BOSS_EXTRUDE8_DEPTH)


solid = Compound([part.part, body_2.part, body_3.part, body_4.part])
